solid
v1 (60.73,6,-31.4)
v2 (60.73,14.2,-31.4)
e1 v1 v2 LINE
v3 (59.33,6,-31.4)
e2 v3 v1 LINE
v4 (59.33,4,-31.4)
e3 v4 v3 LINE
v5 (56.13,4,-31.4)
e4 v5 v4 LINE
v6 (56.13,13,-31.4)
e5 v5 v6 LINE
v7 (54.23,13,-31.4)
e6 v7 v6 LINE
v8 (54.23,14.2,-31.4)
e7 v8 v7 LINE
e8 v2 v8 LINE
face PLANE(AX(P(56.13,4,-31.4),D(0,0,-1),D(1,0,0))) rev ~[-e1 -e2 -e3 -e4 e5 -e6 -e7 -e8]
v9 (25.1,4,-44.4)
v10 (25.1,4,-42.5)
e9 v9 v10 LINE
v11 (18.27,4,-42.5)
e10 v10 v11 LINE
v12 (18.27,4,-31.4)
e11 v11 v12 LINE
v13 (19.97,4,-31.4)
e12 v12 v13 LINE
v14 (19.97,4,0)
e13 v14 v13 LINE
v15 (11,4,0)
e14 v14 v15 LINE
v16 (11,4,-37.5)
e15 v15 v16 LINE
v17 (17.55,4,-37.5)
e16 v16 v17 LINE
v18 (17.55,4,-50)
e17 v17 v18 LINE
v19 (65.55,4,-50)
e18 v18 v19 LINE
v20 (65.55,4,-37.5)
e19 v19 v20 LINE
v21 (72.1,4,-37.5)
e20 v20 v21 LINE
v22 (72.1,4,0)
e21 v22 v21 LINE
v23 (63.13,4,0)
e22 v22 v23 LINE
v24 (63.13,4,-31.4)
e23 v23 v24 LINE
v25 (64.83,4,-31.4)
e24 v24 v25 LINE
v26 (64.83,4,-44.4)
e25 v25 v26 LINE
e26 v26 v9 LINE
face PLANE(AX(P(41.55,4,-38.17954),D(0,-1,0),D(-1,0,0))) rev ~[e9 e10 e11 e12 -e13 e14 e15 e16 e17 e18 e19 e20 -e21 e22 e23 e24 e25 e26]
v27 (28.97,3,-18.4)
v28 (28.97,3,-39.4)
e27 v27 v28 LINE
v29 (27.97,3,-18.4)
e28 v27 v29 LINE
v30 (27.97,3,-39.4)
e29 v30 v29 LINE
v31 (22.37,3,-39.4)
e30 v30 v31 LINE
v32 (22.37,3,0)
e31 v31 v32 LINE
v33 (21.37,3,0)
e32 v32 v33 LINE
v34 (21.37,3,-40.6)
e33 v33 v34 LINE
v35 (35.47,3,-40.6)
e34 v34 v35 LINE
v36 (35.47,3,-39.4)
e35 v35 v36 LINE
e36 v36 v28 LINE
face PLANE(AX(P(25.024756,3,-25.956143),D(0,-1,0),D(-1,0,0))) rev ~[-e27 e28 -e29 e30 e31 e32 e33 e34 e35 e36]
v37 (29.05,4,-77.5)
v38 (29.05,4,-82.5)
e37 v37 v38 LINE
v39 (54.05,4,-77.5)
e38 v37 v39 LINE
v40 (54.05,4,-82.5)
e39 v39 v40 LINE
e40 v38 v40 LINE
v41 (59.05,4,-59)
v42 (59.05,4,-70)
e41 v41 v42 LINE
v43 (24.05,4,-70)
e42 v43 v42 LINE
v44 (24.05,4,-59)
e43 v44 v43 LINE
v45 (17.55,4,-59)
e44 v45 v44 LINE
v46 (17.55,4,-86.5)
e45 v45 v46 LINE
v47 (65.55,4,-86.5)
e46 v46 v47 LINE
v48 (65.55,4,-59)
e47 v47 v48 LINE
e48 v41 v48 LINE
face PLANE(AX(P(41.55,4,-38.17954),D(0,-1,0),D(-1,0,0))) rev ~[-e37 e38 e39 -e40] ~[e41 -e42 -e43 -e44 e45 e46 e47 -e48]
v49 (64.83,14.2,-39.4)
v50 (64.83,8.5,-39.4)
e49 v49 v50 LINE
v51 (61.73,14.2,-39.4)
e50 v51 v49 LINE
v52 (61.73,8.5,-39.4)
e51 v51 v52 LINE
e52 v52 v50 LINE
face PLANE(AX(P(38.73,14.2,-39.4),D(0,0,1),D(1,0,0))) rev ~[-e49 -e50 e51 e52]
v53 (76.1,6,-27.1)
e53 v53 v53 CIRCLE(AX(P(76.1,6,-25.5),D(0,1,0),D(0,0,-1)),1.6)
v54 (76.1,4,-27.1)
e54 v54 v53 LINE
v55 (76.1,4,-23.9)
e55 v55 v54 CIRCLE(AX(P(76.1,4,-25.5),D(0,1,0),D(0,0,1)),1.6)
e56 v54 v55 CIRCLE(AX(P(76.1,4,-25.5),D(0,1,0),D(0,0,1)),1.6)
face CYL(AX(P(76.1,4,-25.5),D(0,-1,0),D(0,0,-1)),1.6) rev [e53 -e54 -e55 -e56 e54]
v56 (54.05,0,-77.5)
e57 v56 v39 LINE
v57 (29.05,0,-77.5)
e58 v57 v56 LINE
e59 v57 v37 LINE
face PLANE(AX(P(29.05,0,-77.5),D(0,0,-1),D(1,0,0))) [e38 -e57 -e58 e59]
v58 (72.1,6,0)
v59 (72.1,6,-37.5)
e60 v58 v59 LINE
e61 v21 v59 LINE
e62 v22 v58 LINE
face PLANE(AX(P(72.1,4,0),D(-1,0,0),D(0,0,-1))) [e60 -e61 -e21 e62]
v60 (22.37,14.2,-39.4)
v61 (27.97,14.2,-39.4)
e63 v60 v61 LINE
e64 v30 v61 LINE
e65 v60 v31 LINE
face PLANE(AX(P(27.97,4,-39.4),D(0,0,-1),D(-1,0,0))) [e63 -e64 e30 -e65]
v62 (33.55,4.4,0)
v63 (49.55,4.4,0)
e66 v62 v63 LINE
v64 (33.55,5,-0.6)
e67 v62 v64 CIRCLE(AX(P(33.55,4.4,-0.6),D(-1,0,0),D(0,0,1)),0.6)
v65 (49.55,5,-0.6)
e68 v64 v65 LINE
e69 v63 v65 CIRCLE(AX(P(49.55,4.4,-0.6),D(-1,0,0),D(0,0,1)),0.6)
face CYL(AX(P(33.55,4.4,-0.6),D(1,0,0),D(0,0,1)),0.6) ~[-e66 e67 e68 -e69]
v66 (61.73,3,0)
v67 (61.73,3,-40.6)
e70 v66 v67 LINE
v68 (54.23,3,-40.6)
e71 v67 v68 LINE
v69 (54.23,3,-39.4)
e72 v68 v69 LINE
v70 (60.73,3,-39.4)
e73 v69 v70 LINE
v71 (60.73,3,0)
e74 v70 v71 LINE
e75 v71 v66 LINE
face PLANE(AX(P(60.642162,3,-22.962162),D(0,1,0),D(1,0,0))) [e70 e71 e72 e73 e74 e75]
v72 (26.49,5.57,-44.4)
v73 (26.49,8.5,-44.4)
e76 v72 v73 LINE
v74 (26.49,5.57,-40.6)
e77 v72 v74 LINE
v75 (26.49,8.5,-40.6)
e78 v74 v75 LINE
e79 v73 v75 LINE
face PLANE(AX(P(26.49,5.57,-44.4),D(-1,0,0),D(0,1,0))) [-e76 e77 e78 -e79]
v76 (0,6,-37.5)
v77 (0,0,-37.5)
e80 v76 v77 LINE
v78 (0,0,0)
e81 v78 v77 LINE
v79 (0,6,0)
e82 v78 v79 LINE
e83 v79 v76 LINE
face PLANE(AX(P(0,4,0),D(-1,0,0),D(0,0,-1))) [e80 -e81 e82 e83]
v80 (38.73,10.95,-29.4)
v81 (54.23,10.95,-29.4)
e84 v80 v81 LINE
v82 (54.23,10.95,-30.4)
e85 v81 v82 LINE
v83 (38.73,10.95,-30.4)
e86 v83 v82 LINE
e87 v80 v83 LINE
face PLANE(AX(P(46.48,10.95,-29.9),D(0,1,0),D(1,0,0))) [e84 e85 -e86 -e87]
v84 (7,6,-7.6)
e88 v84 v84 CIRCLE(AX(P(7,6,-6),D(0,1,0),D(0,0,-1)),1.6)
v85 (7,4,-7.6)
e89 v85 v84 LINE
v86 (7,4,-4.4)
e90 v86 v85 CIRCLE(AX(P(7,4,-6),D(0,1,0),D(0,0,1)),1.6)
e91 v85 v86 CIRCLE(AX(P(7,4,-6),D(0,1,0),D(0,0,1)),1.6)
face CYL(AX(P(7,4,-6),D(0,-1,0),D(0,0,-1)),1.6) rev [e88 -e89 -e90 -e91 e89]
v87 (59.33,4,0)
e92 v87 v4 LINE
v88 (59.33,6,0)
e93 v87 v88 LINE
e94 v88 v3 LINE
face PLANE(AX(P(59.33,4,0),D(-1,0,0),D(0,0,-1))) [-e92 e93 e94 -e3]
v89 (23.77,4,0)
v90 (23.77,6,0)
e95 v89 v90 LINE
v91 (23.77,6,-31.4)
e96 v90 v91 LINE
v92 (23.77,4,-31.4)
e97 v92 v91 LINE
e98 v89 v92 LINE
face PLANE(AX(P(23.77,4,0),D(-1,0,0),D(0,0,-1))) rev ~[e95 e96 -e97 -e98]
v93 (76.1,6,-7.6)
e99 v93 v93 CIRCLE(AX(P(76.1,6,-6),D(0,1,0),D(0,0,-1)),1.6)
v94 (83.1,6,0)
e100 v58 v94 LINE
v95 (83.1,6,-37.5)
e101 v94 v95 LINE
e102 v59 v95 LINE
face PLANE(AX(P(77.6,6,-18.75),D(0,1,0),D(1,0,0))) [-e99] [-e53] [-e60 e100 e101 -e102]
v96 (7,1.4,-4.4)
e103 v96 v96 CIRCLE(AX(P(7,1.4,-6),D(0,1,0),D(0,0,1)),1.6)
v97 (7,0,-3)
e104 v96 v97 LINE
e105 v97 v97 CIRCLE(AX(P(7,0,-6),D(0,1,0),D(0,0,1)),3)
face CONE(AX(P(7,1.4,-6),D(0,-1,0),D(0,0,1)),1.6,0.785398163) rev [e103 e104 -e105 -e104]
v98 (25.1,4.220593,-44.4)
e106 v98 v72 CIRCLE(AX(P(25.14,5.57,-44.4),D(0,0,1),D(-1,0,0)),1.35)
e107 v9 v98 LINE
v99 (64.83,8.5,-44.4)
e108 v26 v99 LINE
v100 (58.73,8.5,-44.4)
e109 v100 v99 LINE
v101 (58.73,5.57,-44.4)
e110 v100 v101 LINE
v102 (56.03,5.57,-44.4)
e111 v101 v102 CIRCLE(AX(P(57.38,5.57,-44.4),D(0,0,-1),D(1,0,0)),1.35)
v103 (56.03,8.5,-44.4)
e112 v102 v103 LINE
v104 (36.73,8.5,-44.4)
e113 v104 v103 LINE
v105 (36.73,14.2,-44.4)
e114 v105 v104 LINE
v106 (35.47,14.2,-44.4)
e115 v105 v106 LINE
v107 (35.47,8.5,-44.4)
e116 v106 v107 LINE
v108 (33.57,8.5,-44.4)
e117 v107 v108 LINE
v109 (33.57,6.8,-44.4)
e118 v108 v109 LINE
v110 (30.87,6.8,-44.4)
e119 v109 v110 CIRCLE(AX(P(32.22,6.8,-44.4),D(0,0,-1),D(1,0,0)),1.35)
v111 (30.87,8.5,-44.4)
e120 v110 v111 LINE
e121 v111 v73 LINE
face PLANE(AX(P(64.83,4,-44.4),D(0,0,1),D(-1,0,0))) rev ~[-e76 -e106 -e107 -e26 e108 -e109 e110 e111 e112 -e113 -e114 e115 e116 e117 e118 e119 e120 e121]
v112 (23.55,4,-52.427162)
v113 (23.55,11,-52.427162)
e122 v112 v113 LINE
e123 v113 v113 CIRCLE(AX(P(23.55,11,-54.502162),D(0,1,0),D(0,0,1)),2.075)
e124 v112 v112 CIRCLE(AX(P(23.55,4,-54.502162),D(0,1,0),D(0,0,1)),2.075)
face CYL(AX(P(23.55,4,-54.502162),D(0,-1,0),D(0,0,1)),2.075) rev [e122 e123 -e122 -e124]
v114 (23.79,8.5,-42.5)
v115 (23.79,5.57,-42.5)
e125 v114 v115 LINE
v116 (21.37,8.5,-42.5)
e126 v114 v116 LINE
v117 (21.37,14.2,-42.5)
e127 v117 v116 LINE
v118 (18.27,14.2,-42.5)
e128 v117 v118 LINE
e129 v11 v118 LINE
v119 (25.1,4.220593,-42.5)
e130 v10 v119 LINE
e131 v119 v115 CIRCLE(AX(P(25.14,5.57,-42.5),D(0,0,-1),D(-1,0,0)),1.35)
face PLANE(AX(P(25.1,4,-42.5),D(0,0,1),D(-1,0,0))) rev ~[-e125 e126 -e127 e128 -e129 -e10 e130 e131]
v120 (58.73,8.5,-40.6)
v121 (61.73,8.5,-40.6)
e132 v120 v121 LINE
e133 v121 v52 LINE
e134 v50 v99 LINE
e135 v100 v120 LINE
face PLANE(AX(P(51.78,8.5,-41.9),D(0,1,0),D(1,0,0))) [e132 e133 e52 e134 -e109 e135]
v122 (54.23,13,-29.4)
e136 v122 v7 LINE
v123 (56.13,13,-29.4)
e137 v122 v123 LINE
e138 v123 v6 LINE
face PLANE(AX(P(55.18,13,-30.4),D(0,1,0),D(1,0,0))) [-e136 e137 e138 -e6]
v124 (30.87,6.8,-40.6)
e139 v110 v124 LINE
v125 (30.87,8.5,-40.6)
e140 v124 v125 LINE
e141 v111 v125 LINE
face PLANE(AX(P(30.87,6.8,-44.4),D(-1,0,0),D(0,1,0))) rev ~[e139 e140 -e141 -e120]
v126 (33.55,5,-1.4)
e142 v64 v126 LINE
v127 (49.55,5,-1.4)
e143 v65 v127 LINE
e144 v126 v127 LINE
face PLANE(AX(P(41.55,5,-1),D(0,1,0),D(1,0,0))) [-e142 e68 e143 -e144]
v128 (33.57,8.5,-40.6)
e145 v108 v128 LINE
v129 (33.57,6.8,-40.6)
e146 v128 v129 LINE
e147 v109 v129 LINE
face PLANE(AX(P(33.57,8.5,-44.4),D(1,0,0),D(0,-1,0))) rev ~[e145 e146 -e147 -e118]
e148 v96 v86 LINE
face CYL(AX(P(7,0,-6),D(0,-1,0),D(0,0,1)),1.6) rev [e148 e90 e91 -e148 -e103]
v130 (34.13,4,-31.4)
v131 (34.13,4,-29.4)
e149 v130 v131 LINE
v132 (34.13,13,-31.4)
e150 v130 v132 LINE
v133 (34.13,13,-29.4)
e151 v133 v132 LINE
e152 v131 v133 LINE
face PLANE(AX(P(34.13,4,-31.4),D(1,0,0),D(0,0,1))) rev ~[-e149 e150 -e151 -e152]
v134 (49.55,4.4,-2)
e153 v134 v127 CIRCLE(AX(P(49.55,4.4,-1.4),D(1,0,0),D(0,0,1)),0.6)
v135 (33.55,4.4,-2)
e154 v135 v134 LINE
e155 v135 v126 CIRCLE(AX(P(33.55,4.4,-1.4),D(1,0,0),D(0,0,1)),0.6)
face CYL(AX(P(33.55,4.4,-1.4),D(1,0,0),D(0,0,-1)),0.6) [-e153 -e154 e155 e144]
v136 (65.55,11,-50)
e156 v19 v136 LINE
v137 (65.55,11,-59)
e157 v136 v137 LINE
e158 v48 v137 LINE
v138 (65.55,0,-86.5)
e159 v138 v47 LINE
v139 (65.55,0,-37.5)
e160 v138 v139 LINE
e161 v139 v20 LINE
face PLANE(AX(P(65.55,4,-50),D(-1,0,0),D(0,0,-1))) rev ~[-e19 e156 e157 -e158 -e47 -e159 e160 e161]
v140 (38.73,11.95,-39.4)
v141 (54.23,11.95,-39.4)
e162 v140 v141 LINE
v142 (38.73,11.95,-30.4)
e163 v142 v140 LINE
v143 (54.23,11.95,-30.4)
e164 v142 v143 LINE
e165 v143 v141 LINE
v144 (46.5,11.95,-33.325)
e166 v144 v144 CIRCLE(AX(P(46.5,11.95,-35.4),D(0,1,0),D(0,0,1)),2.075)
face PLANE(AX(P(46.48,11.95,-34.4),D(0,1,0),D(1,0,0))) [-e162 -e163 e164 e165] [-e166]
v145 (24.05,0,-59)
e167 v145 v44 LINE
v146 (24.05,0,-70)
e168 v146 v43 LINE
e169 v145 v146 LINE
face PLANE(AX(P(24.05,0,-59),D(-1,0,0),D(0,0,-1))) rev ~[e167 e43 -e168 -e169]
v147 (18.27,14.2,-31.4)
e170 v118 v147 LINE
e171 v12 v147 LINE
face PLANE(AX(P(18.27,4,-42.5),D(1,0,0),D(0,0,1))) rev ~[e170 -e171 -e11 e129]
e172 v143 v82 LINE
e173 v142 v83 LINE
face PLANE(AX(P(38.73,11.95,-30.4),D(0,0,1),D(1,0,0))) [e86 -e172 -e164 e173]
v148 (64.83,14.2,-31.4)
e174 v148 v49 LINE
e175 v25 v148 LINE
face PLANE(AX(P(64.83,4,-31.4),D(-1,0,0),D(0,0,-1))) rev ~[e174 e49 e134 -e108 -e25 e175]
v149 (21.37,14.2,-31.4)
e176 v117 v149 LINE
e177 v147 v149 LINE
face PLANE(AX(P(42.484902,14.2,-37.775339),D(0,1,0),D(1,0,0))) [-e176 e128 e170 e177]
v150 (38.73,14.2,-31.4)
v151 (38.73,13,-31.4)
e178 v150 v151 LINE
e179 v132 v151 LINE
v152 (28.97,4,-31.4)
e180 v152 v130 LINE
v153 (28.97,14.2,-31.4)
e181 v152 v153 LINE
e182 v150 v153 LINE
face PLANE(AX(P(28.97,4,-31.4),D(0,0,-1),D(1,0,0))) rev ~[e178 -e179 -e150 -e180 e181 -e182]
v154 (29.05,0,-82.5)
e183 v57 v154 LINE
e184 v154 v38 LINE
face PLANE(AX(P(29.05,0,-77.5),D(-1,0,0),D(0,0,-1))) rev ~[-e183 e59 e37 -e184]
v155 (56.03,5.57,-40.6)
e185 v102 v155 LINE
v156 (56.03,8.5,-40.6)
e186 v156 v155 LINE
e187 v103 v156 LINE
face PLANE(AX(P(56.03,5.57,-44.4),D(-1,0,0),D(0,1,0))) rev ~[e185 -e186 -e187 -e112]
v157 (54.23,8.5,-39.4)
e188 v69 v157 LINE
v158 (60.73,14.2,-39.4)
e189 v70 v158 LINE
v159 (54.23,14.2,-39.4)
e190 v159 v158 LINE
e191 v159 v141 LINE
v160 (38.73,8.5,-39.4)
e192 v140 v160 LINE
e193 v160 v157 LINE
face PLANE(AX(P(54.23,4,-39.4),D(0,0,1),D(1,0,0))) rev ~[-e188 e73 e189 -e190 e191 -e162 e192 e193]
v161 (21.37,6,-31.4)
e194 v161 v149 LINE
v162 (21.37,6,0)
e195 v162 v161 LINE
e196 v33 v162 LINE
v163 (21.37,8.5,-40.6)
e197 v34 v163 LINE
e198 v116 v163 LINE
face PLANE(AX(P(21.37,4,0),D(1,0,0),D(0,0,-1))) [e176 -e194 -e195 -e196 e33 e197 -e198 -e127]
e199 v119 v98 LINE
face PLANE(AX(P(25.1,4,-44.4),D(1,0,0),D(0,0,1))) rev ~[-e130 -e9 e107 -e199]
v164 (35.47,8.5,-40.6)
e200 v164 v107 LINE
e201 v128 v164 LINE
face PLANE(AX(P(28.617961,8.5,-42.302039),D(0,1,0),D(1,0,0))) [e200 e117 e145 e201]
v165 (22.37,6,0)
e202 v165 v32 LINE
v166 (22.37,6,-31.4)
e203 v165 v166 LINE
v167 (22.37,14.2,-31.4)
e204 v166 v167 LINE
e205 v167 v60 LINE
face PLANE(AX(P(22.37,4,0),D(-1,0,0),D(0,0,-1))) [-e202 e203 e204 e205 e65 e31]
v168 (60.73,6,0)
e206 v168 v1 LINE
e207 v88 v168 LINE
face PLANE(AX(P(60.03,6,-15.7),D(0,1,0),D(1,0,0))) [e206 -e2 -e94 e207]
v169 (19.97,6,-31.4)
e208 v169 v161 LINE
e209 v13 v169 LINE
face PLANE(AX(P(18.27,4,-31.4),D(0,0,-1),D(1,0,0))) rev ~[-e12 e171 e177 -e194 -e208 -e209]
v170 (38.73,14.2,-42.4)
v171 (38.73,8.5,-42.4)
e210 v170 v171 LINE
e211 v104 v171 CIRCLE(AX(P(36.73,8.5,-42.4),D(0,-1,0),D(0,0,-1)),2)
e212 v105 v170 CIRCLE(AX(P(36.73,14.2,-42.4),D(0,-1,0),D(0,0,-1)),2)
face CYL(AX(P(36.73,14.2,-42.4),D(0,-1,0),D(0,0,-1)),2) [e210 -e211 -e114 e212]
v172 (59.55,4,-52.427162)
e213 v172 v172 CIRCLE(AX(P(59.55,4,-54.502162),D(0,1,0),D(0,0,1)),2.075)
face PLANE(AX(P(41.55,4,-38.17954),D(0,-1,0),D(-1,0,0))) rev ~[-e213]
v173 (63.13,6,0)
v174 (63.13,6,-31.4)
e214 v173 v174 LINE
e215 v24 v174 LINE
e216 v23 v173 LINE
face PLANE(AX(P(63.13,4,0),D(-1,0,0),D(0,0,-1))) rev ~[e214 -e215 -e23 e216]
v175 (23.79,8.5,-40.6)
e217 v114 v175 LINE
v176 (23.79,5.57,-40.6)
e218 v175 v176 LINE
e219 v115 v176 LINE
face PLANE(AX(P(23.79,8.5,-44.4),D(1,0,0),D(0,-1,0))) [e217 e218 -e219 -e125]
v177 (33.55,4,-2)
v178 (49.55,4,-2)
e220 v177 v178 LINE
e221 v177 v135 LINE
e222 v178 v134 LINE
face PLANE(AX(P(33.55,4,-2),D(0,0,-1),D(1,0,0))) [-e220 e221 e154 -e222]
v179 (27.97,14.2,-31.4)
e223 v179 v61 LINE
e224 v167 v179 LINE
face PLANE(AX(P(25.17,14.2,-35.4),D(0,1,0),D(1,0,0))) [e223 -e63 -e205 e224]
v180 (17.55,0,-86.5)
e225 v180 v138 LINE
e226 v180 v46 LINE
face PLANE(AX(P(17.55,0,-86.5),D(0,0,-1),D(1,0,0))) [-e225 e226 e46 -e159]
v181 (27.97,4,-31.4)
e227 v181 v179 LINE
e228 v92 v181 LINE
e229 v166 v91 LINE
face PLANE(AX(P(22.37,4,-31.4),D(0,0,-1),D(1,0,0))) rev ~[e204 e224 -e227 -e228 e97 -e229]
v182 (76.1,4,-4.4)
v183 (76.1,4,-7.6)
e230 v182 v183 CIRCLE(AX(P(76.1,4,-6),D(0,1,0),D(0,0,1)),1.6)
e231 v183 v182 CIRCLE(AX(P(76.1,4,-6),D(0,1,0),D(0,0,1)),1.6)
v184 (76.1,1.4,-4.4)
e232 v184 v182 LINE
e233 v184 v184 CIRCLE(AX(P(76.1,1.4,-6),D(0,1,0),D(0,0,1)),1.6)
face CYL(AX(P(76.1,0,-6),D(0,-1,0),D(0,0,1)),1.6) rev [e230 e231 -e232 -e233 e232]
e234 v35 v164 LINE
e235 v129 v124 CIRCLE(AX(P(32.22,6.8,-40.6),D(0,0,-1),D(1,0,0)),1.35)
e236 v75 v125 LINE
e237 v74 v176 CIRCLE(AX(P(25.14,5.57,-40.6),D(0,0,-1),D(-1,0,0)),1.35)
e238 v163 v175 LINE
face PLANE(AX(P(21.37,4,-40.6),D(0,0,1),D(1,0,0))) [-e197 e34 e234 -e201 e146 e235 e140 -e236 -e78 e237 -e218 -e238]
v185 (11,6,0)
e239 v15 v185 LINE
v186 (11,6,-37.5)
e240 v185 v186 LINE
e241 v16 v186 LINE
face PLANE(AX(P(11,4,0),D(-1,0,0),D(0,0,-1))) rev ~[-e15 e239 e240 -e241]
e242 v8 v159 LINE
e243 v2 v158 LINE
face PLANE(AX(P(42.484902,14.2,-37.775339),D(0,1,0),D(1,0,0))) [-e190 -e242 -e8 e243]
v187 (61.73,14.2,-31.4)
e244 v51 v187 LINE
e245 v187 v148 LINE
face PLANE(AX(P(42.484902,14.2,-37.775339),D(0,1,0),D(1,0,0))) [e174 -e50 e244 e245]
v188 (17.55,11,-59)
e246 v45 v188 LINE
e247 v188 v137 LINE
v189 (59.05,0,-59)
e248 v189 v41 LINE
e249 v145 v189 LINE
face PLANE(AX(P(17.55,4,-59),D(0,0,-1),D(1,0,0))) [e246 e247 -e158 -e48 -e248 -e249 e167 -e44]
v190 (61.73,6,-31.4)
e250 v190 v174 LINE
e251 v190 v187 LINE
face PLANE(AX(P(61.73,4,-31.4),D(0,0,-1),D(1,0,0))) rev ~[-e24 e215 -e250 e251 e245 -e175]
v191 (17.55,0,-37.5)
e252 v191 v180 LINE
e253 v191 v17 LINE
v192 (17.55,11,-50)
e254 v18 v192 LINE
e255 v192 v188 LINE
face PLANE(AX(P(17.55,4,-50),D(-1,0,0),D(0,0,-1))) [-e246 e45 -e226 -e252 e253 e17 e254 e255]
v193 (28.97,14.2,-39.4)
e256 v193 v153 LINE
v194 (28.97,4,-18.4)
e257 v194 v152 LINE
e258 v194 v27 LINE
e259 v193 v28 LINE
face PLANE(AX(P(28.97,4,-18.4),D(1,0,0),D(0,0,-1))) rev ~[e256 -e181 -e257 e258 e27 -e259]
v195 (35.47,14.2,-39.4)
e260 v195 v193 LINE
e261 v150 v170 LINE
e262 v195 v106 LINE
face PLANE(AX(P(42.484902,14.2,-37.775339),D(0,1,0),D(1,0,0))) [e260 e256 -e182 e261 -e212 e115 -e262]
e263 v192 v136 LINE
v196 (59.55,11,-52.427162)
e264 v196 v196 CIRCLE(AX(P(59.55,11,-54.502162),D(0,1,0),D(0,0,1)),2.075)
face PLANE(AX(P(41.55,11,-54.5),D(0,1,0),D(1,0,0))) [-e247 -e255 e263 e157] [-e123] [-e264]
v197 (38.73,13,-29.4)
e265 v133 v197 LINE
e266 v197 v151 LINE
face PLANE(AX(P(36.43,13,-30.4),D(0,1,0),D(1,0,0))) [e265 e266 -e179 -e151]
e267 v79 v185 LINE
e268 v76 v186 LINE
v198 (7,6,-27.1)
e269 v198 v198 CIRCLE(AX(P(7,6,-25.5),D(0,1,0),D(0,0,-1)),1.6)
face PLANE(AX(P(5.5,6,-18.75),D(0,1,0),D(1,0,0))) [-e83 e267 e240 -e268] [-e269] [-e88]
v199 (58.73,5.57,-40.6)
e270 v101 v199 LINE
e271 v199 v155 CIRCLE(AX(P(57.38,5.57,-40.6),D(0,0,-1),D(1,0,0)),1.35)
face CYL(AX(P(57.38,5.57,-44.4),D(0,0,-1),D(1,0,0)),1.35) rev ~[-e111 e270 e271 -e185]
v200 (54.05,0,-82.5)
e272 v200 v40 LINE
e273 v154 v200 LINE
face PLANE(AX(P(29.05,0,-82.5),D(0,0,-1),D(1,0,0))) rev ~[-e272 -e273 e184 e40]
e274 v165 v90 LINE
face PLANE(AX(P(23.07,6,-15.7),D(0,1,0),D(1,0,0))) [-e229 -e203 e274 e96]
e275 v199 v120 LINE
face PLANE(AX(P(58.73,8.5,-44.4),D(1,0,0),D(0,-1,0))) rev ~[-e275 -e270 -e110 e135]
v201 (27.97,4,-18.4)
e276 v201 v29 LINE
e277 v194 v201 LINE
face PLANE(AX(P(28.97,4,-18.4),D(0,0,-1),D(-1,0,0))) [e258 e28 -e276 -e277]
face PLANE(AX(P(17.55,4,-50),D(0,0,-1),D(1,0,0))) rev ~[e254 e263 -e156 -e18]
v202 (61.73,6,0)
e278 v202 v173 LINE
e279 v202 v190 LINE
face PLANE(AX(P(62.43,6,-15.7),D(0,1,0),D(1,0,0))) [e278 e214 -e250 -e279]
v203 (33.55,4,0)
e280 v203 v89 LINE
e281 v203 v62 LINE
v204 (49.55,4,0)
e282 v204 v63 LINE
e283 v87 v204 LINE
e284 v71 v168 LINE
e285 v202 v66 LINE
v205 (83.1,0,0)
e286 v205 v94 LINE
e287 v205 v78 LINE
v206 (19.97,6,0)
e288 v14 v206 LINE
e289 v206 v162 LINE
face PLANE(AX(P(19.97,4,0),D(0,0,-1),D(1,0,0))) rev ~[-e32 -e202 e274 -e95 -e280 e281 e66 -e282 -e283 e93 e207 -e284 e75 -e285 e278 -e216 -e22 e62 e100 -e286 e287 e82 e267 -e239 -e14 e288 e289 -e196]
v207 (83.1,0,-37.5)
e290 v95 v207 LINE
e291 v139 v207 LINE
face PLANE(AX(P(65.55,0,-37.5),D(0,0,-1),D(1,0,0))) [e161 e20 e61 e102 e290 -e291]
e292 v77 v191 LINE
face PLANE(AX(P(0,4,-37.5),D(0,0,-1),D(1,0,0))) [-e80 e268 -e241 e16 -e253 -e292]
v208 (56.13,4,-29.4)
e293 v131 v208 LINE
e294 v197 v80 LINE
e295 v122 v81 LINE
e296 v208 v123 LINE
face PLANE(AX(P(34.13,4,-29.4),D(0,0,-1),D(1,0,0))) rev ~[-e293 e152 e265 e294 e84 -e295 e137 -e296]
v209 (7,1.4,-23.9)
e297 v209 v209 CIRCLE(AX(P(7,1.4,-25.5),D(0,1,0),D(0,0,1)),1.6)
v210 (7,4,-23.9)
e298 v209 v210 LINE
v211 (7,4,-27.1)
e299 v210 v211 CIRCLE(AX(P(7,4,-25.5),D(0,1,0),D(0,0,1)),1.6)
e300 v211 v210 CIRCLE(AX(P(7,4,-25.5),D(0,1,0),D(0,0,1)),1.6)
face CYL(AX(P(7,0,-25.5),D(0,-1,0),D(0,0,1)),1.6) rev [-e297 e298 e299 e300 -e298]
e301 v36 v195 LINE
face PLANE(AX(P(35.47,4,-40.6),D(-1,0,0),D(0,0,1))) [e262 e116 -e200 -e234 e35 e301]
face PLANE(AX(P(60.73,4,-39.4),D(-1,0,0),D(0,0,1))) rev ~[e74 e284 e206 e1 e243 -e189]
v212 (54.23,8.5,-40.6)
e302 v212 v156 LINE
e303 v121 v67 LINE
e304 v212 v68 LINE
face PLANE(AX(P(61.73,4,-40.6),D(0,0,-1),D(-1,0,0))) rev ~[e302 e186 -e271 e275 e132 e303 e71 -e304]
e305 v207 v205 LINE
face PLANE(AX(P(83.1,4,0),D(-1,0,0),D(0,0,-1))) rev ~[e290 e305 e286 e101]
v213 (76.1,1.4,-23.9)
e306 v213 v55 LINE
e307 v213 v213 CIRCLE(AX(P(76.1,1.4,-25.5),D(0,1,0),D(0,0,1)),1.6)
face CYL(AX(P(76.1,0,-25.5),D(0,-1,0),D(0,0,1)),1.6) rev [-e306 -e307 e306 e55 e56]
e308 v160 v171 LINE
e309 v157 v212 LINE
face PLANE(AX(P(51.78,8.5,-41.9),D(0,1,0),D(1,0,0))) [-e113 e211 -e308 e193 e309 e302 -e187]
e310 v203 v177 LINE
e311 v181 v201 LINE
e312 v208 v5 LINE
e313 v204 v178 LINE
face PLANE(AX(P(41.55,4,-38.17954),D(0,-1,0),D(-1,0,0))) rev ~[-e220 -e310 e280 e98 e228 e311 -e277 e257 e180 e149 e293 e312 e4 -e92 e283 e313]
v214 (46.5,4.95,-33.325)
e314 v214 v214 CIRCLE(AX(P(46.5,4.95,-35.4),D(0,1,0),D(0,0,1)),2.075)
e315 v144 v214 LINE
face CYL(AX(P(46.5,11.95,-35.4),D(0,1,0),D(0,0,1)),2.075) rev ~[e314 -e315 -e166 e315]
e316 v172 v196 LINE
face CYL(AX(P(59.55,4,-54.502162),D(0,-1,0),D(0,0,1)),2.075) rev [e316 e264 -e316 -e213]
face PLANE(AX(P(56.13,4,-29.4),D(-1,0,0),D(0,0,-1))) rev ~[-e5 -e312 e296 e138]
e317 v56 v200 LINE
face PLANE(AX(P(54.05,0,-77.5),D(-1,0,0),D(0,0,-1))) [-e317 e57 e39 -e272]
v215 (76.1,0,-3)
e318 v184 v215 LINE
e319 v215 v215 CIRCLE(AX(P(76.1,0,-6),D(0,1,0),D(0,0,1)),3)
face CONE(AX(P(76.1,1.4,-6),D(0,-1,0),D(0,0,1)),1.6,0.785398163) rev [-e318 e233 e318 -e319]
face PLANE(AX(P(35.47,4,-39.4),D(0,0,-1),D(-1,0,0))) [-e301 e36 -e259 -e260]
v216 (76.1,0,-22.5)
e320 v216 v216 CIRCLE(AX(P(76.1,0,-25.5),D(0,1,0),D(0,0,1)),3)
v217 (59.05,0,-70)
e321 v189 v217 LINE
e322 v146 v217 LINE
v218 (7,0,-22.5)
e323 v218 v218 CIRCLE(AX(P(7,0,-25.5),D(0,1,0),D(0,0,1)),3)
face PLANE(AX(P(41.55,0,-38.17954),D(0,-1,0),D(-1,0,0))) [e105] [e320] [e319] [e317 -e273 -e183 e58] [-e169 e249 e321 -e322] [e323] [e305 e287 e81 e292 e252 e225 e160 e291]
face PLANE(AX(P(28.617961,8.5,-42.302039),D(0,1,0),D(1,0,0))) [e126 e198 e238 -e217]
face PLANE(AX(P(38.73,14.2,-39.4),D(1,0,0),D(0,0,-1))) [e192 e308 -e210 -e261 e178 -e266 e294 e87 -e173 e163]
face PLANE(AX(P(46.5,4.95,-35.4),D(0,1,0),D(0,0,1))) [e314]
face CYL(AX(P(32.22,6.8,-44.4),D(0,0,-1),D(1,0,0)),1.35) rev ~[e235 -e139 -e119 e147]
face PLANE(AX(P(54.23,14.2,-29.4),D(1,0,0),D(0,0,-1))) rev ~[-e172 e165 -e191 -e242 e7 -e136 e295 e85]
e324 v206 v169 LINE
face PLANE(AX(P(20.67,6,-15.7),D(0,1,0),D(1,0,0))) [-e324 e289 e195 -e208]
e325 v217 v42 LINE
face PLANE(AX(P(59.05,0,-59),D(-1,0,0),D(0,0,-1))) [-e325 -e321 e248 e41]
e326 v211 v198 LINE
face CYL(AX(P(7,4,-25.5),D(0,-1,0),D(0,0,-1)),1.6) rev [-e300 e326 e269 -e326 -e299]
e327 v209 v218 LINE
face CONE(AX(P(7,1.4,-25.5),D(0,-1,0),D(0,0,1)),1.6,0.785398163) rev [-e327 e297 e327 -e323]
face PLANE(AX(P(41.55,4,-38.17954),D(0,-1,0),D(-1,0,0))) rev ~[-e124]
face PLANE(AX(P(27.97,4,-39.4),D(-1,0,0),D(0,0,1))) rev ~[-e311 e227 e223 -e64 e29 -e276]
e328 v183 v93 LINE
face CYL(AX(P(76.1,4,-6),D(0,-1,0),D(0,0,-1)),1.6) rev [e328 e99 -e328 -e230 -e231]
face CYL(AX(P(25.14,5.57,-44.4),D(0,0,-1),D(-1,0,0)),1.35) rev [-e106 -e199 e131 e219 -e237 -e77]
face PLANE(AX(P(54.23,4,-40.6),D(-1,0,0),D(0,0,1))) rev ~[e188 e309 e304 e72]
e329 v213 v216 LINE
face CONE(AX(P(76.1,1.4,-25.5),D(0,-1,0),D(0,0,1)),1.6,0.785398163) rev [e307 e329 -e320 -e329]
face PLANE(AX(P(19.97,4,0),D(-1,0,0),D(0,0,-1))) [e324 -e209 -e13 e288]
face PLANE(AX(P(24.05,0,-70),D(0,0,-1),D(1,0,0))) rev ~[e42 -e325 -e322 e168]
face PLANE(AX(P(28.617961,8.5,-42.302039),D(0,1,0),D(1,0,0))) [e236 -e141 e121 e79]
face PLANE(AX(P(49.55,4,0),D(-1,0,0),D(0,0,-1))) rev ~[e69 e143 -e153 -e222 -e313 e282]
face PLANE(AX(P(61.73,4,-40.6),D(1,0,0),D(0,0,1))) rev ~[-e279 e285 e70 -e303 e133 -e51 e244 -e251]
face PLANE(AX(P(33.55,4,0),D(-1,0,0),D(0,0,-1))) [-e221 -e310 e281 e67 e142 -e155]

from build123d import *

# Parameters (mm, degrees)
SKETCH1_R           = 1.6
SKETCH1_W           = 25
SKETCH1_H           = 5
SKETCH1_W_2         = 35
SKETCH1_H_2         = 11
BOSS_EXTRUDE1_DEPTH = 4
CHAMFER1_SIZE       = 1.4
SKETCH2_W           = 48
SKETCH2_H           = 9
SKETCH2_R           = 2.075
BOSS_EXTRUDE2_DEPTH = 7
SKETCH3_W           = 11
SKETCH3_H           = 37.5
SKETCH3_R           = 1.6
BOSS_EXTRUDE3_DEPTH = 2
SKETCH4_W           = 5.6
SKETCH4_H           = 8
BOSS_EXTRUDE4_DEPTH = 10.2
SKETCH5_W           = 1.4
SKETCH5_H           = 31.4
BOSS_EXTRUDE5_DEPTH = 2
CUT_EXTRUDE1_DEPTH  = 1
SKETCH8_W           = 26.1
SKETCH8_H           = 5
CUT_EXTRUDE2_DEPTH  = 5.7
SKETCH9_W           = 15.5
SKETCH9_H           = 10
CUT_EXTRUDE3_DEPTH  = 2.25
SKETCH10_W          = 4.6
SKETCH10_H          = 2
SKETCH10_W_2        = 1.9
CUT_EXTRUDE4_DEPTH  = 1.2
SKETCH11_W          = 15.5
SKETCH11_H          = 1
CUT_EXTRUDE5_DEPTH  = 1
SKETCH12_R          = 2.075
CUT_EXTRUDE6_DEPTH  = 7
FILLET1_R           = 2
CUT_EXTRUDE7_REACH  = 97.282
SKETCH14_W          = 16
SKETCH14_H          = 2
BOSS_EXTRUDE6_DEPTH = 1
FILLET2_R           = 0.6


with BuildPart() as part:
    # Sketch1 → Boss-Extrude1 (new body)
    with BuildSketch(Plane(origin=(0, 0, 0), x_dir=(1, 0, 0), z_dir=(0, 1, 0))):
        Polygon((0, 0), (0, 37.5), (17.55, 37.5), (17.55, 86.5), (65.55, 86.5), (65.55, 37.5), (83.1, 37.5), (83.1, 0), align=None)
        with Locations(Location((7, 25.5, 0), (0, 0, 270))):
            Circle(SKETCH1_R, mode=Mode.SUBTRACT)
        with Locations(Location((7, 6, 0), (0, 0, 270))):
            Circle(SKETCH1_R, mode=Mode.SUBTRACT)
        with Locations(Location((76.1, 6, 0), (0, 0, 270))):
            Circle(SKETCH1_R, mode=Mode.SUBTRACT)
        with Locations(Location((76.1, 25.5, 0), (0, 0, 270))):
            Circle(SKETCH1_R, mode=Mode.SUBTRACT)
        with Locations((41.55, 80)):
            Rectangle(SKETCH1_W, SKETCH1_H, mode=Mode.SUBTRACT)
        with Locations((41.55, 64.5)):
            Rectangle(SKETCH1_W_2, SKETCH1_H_2, mode=Mode.SUBTRACT)
    extrude(amount=BOSS_EXTRUDE1_DEPTH)

    # Chamfer1
    chamfer1_edges = [part.edges().sort_by_distance(p)[0] for p in [
        (7, 0, -27.1),
        (7, 0, -7.6),
        (76.1, 0, -7.6),
        (76.1, 0, -27.1),
    ]]
    chamfer(chamfer1_edges, length=CHAMFER1_SIZE)

    # Sketch2 → Boss-Extrude2 (add)
    with BuildSketch(Plane(origin=(0, 4, 0), x_dir=(1, 0, 0), z_dir=(0, 1, 0))):
        with Locations((41.55, 54.5)):
            Rectangle(SKETCH2_W, SKETCH2_H)
        with Locations(Location((23.55, 54.502162277, 0), (0, 0, 270))):
            Circle(SKETCH2_R, mode=Mode.SUBTRACT)
        with Locations(Location((59.55, 54.502162277, 0), (0, 0, 270))):
            Circle(SKETCH2_R, mode=Mode.SUBTRACT)
    extrude(amount=BOSS_EXTRUDE2_DEPTH)

    # Sketch3 → Boss-Extrude3 (add)
    # profile 1 of 2: a face of its own
    with BuildSketch(Plane(origin=(0, 4, 0), x_dir=(1, 0, 0), z_dir=(0, 1, 0))):
        with Locations((5.5, 18.75)):
            Rectangle(SKETCH3_W, SKETCH3_H)
        with Locations(Location((7, 25.5, 0), (0, 0, 90))):
            Circle(SKETCH3_R, mode=Mode.SUBTRACT)
        with Locations(Location((7, 6, 0), (0, 0, 90))):
            Circle(SKETCH3_R, mode=Mode.SUBTRACT)
    # profile 2 of 2: a face of its own
    with BuildSketch(Plane(origin=(0, 4, 0), x_dir=(1, 0, 0), z_dir=(0, 1, 0))):
        with Locations((77.6, 18.75)):
            Rectangle(SKETCH3_W, SKETCH3_H)
        with Locations(Location((76.1, 6, 0), (0, 0, 90))):
            Circle(SKETCH3_R, mode=Mode.SUBTRACT)
        with Locations(Location((76.1, 25.5, 0), (0, 0, 90))):
            Circle(SKETCH3_R, mode=Mode.SUBTRACT)
    extrude(amount=BOSS_EXTRUDE3_DEPTH)

    # Sketch4 → Boss-Extrude4 (add)
    with BuildSketch(Plane(origin=(0, 4, 0), x_dir=(1, 0, 0), z_dir=(0, 1, 0))):
        Polygon((18.27, 42.5), (18.27, 31.4), (21.37, 31.4), (21.37, 40.6), (35.47, 40.6), (35.47, 39.4), (28.97, 39.4), (28.97, 31.4), (34.13, 31.4), (34.13, 29.4), (56.13, 29.4), (56.13, 31.4), (60.73, 31.4), (60.73, 39.4), (54.23, 39.4), (54.23, 40.6), (61.73, 40.6), (61.73, 31.4), (64.83, 31.4), (64.83, 44.4), (25.1, 44.4), (25.1, 42.5), align=None)
        with Locations((25.17, 35.4)):
            Rectangle(SKETCH4_W, SKETCH4_H)
    extrude(amount=BOSS_EXTRUDE4_DEPTH)

    # Sketch5 → Boss-Extrude5 (add)
    with BuildSketch(Plane(origin=(0, 4, 0), x_dir=(1, 0, 0), z_dir=(0, 1, 0))):
        with Locations((20.67, 15.7)):
            Rectangle(SKETCH5_W, SKETCH5_H)
        with Locations((23.07, 15.7)):
            Rectangle(SKETCH5_W, SKETCH5_H)
        with Locations((60.03, 15.7)):
            Rectangle(SKETCH5_W, SKETCH5_H)
        with Locations((62.43, 15.7)):
            Rectangle(SKETCH5_W, SKETCH5_H)
    extrude(amount=BOSS_EXTRUDE5_DEPTH)

    # Sketch7 → Cut-Extrude1 (cut)
    with BuildSketch(Plane(origin=(0, 4, 0), x_dir=(1, 0, 0), z_dir=(0, 1, 0))):
        Polygon((28.97, 31.4), (28.97, 18.4), (27.97, 18.4), (27.97, 31.4), (27.97, 39.4), (22.37, 39.4), (22.37, 0), (21.37, 0), (21.37, 40.6), (35.47, 40.6), (35.47, 39.4), (28.97, 39.4), align=None)
        Polygon((60.73, 0), (61.73, 0), (61.73, 40.6), (54.23, 40.6), (54.23, 39.4), (60.73, 39.4), align=None)
    extrude(amount=-CUT_EXTRUDE1_DEPTH, mode=Mode.SUBTRACT)

    # Sketch8 → Cut-Extrude2 (cut)
    with BuildSketch(Plane(origin=(0, 14.2, 0), x_dir=(1, 0, 0), z_dir=(0, 1, 0))):
        Polygon((35.47, 40.6), (35.47, 44.4), (25.1, 44.4), (25.1, 42.5), (21.37, 42.5), (21.37, 40.6), align=None)
        with Locations((51.78, 41.9)):
            Rectangle(SKETCH8_W, SKETCH8_H)
    extrude(amount=-CUT_EXTRUDE2_DEPTH, mode=Mode.SUBTRACT)

    # Sketch9 → Cut-Extrude3 (cut)
    with BuildSketch(Plane(origin=(0, 14.2, 0), x_dir=(1, 0, 0), z_dir=(0, 1, 0))):
        with Locations((46.48, 34.4)):
            Rectangle(SKETCH9_W, SKETCH9_H)
    extrude(amount=-CUT_EXTRUDE3_DEPTH, mode=Mode.SUBTRACT)

    # Sketch10 → Cut-Extrude4 (cut)
    with BuildSketch(Plane(origin=(0, 14.2, 0), x_dir=(1, 0, 0), z_dir=(0, 1, 0))):
        with Locations((36.43, 30.4)):
            Rectangle(SKETCH10_W, SKETCH10_H)
        with Locations((55.18, 30.4)):
            Rectangle(SKETCH10_W_2, SKETCH10_H)
    extrude(amount=-CUT_EXTRUDE4_DEPTH, mode=Mode.SUBTRACT)

    # Sketch11 → Cut-Extrude5 (cut)
    with BuildSketch(Plane(origin=(0, 11.95, 0), x_dir=(1, 0, 0), z_dir=(0, 1, 0))):
        with Locations((46.48, 29.9)):
            Rectangle(SKETCH11_W, SKETCH11_H)
    extrude(amount=-CUT_EXTRUDE5_DEPTH, mode=Mode.SUBTRACT)

    # Sketch12 → Cut-Extrude6 (cut)
    with BuildSketch(Plane(origin=(0, 11.95, 0), x_dir=(1, 0, 0), z_dir=(0, 1, 0))):
        with Locations(Location((46.5, 35.4, 0), (0, 0, 270))):
            Circle(SKETCH12_R)
    extrude(amount=-CUT_EXTRUDE6_DEPTH, mode=Mode.SUBTRACT)

    # Fillet1
    fillet1_edges = [part.edges().sort_by_distance(p)[0] for p in [
        (38.73, 11.35, -44.4),
    ]]
    fillet(fillet1_edges, radius=FILLET1_R)

    # Sketch13 → Cut-Extrude7 (cut, up to next)
    with BuildSketch(Plane(origin=(0, 0, -44.4), x_dir=(-1, 0, 0), z_dir=(0, 0, -1)), mode=Mode.PRIVATE) as cut_extrude7_sk1:
        with BuildLine():
            Line((-58.73, 8.5), (-58.73, 5.57))
            ThreePointArc((-58.73, 5.57), (-57.38, 4.22), (-56.03, 5.57))
            Line((-56.03, 5.57), (-56.03, 8.5))
            Line((-56.03, 8.5), (-58.73, 8.5))
        make_face()
    cut_extrude7_tool1 = extrude(cut_extrude7_sk1.sketch, amount=-CUT_EXTRUDE7_REACH, mode=Mode.PRIVATE) & part.part
    # Sketch13 → Cut-Extrude7 (cut, up to next)
    with BuildSketch(Plane(origin=(0, 0, -44.4), x_dir=(-1, 0, 0), z_dir=(0, 0, -1)), mode=Mode.PRIVATE) as cut_extrude7_sk2:
        with BuildLine():
            Line((-33.57, 8.5), (-33.57, 6.8))
            ThreePointArc((-33.57, 6.8), (-32.22, 5.45), (-30.87, 6.8))
            Line((-30.87, 6.8), (-30.87, 8.5))
            Line((-30.87, 8.5), (-33.57, 8.5))
        make_face()
    cut_extrude7_tool2 = extrude(cut_extrude7_sk2.sketch, amount=-CUT_EXTRUDE7_REACH, mode=Mode.PRIVATE) & part.part
    # Sketch13 → Cut-Extrude7 (cut, up to next)
    with BuildSketch(Plane(origin=(0, 0, -44.4), x_dir=(-1, 0, 0), z_dir=(0, 0, -1)), mode=Mode.PRIVATE) as cut_extrude7_sk3:
        with BuildLine():
            Line((-26.49, 5.57), (-26.49, 8.5))
            Line((-26.49, 8.5), (-23.79, 8.5))
            Line((-23.79, 8.5), (-23.79, 5.57))
            ThreePointArc((-23.79, 5.57), (-25.14, 4.22), (-26.49, 5.57))
        make_face()
    cut_extrude7_tool3 = extrude(cut_extrude7_sk3.sketch, amount=-CUT_EXTRUDE7_REACH, mode=Mode.PRIVATE) & part.part
    add(cut_extrude7_tool1.solids().sort_by_distance((57.38, 6.49348, -44.4))[0], mode=Mode.SUBTRACT)
    add(cut_extrude7_tool2.solids().sort_by_distance((32.22, 7.10341, -44.4))[0], mode=Mode.SUBTRACT)
    add(cut_extrude7_tool3.solids().sort_by_distance((25.14, 6.49348, -44.4))[0], mode=Mode.SUBTRACT)

    # Sketch14 → Boss-Extrude6 (add)
    with BuildSketch(Plane(origin=(0, 4, 0), x_dir=(1, 0, 0), z_dir=(0, 1, 0))):
        with Locations((41.55, 1)):
            Rectangle(SKETCH14_W, SKETCH14_H)
    extrude(amount=BOSS_EXTRUDE6_DEPTH)

    # Fillet2
    fillet2_edges = [part.edges().sort_by_distance(p)[0] for p in [
        (41.55, 5, 0),
        (41.55, 5, -2),
    ]]
    fillet(fillet2_edges, radius=FILLET2_R)


solid = part.part
